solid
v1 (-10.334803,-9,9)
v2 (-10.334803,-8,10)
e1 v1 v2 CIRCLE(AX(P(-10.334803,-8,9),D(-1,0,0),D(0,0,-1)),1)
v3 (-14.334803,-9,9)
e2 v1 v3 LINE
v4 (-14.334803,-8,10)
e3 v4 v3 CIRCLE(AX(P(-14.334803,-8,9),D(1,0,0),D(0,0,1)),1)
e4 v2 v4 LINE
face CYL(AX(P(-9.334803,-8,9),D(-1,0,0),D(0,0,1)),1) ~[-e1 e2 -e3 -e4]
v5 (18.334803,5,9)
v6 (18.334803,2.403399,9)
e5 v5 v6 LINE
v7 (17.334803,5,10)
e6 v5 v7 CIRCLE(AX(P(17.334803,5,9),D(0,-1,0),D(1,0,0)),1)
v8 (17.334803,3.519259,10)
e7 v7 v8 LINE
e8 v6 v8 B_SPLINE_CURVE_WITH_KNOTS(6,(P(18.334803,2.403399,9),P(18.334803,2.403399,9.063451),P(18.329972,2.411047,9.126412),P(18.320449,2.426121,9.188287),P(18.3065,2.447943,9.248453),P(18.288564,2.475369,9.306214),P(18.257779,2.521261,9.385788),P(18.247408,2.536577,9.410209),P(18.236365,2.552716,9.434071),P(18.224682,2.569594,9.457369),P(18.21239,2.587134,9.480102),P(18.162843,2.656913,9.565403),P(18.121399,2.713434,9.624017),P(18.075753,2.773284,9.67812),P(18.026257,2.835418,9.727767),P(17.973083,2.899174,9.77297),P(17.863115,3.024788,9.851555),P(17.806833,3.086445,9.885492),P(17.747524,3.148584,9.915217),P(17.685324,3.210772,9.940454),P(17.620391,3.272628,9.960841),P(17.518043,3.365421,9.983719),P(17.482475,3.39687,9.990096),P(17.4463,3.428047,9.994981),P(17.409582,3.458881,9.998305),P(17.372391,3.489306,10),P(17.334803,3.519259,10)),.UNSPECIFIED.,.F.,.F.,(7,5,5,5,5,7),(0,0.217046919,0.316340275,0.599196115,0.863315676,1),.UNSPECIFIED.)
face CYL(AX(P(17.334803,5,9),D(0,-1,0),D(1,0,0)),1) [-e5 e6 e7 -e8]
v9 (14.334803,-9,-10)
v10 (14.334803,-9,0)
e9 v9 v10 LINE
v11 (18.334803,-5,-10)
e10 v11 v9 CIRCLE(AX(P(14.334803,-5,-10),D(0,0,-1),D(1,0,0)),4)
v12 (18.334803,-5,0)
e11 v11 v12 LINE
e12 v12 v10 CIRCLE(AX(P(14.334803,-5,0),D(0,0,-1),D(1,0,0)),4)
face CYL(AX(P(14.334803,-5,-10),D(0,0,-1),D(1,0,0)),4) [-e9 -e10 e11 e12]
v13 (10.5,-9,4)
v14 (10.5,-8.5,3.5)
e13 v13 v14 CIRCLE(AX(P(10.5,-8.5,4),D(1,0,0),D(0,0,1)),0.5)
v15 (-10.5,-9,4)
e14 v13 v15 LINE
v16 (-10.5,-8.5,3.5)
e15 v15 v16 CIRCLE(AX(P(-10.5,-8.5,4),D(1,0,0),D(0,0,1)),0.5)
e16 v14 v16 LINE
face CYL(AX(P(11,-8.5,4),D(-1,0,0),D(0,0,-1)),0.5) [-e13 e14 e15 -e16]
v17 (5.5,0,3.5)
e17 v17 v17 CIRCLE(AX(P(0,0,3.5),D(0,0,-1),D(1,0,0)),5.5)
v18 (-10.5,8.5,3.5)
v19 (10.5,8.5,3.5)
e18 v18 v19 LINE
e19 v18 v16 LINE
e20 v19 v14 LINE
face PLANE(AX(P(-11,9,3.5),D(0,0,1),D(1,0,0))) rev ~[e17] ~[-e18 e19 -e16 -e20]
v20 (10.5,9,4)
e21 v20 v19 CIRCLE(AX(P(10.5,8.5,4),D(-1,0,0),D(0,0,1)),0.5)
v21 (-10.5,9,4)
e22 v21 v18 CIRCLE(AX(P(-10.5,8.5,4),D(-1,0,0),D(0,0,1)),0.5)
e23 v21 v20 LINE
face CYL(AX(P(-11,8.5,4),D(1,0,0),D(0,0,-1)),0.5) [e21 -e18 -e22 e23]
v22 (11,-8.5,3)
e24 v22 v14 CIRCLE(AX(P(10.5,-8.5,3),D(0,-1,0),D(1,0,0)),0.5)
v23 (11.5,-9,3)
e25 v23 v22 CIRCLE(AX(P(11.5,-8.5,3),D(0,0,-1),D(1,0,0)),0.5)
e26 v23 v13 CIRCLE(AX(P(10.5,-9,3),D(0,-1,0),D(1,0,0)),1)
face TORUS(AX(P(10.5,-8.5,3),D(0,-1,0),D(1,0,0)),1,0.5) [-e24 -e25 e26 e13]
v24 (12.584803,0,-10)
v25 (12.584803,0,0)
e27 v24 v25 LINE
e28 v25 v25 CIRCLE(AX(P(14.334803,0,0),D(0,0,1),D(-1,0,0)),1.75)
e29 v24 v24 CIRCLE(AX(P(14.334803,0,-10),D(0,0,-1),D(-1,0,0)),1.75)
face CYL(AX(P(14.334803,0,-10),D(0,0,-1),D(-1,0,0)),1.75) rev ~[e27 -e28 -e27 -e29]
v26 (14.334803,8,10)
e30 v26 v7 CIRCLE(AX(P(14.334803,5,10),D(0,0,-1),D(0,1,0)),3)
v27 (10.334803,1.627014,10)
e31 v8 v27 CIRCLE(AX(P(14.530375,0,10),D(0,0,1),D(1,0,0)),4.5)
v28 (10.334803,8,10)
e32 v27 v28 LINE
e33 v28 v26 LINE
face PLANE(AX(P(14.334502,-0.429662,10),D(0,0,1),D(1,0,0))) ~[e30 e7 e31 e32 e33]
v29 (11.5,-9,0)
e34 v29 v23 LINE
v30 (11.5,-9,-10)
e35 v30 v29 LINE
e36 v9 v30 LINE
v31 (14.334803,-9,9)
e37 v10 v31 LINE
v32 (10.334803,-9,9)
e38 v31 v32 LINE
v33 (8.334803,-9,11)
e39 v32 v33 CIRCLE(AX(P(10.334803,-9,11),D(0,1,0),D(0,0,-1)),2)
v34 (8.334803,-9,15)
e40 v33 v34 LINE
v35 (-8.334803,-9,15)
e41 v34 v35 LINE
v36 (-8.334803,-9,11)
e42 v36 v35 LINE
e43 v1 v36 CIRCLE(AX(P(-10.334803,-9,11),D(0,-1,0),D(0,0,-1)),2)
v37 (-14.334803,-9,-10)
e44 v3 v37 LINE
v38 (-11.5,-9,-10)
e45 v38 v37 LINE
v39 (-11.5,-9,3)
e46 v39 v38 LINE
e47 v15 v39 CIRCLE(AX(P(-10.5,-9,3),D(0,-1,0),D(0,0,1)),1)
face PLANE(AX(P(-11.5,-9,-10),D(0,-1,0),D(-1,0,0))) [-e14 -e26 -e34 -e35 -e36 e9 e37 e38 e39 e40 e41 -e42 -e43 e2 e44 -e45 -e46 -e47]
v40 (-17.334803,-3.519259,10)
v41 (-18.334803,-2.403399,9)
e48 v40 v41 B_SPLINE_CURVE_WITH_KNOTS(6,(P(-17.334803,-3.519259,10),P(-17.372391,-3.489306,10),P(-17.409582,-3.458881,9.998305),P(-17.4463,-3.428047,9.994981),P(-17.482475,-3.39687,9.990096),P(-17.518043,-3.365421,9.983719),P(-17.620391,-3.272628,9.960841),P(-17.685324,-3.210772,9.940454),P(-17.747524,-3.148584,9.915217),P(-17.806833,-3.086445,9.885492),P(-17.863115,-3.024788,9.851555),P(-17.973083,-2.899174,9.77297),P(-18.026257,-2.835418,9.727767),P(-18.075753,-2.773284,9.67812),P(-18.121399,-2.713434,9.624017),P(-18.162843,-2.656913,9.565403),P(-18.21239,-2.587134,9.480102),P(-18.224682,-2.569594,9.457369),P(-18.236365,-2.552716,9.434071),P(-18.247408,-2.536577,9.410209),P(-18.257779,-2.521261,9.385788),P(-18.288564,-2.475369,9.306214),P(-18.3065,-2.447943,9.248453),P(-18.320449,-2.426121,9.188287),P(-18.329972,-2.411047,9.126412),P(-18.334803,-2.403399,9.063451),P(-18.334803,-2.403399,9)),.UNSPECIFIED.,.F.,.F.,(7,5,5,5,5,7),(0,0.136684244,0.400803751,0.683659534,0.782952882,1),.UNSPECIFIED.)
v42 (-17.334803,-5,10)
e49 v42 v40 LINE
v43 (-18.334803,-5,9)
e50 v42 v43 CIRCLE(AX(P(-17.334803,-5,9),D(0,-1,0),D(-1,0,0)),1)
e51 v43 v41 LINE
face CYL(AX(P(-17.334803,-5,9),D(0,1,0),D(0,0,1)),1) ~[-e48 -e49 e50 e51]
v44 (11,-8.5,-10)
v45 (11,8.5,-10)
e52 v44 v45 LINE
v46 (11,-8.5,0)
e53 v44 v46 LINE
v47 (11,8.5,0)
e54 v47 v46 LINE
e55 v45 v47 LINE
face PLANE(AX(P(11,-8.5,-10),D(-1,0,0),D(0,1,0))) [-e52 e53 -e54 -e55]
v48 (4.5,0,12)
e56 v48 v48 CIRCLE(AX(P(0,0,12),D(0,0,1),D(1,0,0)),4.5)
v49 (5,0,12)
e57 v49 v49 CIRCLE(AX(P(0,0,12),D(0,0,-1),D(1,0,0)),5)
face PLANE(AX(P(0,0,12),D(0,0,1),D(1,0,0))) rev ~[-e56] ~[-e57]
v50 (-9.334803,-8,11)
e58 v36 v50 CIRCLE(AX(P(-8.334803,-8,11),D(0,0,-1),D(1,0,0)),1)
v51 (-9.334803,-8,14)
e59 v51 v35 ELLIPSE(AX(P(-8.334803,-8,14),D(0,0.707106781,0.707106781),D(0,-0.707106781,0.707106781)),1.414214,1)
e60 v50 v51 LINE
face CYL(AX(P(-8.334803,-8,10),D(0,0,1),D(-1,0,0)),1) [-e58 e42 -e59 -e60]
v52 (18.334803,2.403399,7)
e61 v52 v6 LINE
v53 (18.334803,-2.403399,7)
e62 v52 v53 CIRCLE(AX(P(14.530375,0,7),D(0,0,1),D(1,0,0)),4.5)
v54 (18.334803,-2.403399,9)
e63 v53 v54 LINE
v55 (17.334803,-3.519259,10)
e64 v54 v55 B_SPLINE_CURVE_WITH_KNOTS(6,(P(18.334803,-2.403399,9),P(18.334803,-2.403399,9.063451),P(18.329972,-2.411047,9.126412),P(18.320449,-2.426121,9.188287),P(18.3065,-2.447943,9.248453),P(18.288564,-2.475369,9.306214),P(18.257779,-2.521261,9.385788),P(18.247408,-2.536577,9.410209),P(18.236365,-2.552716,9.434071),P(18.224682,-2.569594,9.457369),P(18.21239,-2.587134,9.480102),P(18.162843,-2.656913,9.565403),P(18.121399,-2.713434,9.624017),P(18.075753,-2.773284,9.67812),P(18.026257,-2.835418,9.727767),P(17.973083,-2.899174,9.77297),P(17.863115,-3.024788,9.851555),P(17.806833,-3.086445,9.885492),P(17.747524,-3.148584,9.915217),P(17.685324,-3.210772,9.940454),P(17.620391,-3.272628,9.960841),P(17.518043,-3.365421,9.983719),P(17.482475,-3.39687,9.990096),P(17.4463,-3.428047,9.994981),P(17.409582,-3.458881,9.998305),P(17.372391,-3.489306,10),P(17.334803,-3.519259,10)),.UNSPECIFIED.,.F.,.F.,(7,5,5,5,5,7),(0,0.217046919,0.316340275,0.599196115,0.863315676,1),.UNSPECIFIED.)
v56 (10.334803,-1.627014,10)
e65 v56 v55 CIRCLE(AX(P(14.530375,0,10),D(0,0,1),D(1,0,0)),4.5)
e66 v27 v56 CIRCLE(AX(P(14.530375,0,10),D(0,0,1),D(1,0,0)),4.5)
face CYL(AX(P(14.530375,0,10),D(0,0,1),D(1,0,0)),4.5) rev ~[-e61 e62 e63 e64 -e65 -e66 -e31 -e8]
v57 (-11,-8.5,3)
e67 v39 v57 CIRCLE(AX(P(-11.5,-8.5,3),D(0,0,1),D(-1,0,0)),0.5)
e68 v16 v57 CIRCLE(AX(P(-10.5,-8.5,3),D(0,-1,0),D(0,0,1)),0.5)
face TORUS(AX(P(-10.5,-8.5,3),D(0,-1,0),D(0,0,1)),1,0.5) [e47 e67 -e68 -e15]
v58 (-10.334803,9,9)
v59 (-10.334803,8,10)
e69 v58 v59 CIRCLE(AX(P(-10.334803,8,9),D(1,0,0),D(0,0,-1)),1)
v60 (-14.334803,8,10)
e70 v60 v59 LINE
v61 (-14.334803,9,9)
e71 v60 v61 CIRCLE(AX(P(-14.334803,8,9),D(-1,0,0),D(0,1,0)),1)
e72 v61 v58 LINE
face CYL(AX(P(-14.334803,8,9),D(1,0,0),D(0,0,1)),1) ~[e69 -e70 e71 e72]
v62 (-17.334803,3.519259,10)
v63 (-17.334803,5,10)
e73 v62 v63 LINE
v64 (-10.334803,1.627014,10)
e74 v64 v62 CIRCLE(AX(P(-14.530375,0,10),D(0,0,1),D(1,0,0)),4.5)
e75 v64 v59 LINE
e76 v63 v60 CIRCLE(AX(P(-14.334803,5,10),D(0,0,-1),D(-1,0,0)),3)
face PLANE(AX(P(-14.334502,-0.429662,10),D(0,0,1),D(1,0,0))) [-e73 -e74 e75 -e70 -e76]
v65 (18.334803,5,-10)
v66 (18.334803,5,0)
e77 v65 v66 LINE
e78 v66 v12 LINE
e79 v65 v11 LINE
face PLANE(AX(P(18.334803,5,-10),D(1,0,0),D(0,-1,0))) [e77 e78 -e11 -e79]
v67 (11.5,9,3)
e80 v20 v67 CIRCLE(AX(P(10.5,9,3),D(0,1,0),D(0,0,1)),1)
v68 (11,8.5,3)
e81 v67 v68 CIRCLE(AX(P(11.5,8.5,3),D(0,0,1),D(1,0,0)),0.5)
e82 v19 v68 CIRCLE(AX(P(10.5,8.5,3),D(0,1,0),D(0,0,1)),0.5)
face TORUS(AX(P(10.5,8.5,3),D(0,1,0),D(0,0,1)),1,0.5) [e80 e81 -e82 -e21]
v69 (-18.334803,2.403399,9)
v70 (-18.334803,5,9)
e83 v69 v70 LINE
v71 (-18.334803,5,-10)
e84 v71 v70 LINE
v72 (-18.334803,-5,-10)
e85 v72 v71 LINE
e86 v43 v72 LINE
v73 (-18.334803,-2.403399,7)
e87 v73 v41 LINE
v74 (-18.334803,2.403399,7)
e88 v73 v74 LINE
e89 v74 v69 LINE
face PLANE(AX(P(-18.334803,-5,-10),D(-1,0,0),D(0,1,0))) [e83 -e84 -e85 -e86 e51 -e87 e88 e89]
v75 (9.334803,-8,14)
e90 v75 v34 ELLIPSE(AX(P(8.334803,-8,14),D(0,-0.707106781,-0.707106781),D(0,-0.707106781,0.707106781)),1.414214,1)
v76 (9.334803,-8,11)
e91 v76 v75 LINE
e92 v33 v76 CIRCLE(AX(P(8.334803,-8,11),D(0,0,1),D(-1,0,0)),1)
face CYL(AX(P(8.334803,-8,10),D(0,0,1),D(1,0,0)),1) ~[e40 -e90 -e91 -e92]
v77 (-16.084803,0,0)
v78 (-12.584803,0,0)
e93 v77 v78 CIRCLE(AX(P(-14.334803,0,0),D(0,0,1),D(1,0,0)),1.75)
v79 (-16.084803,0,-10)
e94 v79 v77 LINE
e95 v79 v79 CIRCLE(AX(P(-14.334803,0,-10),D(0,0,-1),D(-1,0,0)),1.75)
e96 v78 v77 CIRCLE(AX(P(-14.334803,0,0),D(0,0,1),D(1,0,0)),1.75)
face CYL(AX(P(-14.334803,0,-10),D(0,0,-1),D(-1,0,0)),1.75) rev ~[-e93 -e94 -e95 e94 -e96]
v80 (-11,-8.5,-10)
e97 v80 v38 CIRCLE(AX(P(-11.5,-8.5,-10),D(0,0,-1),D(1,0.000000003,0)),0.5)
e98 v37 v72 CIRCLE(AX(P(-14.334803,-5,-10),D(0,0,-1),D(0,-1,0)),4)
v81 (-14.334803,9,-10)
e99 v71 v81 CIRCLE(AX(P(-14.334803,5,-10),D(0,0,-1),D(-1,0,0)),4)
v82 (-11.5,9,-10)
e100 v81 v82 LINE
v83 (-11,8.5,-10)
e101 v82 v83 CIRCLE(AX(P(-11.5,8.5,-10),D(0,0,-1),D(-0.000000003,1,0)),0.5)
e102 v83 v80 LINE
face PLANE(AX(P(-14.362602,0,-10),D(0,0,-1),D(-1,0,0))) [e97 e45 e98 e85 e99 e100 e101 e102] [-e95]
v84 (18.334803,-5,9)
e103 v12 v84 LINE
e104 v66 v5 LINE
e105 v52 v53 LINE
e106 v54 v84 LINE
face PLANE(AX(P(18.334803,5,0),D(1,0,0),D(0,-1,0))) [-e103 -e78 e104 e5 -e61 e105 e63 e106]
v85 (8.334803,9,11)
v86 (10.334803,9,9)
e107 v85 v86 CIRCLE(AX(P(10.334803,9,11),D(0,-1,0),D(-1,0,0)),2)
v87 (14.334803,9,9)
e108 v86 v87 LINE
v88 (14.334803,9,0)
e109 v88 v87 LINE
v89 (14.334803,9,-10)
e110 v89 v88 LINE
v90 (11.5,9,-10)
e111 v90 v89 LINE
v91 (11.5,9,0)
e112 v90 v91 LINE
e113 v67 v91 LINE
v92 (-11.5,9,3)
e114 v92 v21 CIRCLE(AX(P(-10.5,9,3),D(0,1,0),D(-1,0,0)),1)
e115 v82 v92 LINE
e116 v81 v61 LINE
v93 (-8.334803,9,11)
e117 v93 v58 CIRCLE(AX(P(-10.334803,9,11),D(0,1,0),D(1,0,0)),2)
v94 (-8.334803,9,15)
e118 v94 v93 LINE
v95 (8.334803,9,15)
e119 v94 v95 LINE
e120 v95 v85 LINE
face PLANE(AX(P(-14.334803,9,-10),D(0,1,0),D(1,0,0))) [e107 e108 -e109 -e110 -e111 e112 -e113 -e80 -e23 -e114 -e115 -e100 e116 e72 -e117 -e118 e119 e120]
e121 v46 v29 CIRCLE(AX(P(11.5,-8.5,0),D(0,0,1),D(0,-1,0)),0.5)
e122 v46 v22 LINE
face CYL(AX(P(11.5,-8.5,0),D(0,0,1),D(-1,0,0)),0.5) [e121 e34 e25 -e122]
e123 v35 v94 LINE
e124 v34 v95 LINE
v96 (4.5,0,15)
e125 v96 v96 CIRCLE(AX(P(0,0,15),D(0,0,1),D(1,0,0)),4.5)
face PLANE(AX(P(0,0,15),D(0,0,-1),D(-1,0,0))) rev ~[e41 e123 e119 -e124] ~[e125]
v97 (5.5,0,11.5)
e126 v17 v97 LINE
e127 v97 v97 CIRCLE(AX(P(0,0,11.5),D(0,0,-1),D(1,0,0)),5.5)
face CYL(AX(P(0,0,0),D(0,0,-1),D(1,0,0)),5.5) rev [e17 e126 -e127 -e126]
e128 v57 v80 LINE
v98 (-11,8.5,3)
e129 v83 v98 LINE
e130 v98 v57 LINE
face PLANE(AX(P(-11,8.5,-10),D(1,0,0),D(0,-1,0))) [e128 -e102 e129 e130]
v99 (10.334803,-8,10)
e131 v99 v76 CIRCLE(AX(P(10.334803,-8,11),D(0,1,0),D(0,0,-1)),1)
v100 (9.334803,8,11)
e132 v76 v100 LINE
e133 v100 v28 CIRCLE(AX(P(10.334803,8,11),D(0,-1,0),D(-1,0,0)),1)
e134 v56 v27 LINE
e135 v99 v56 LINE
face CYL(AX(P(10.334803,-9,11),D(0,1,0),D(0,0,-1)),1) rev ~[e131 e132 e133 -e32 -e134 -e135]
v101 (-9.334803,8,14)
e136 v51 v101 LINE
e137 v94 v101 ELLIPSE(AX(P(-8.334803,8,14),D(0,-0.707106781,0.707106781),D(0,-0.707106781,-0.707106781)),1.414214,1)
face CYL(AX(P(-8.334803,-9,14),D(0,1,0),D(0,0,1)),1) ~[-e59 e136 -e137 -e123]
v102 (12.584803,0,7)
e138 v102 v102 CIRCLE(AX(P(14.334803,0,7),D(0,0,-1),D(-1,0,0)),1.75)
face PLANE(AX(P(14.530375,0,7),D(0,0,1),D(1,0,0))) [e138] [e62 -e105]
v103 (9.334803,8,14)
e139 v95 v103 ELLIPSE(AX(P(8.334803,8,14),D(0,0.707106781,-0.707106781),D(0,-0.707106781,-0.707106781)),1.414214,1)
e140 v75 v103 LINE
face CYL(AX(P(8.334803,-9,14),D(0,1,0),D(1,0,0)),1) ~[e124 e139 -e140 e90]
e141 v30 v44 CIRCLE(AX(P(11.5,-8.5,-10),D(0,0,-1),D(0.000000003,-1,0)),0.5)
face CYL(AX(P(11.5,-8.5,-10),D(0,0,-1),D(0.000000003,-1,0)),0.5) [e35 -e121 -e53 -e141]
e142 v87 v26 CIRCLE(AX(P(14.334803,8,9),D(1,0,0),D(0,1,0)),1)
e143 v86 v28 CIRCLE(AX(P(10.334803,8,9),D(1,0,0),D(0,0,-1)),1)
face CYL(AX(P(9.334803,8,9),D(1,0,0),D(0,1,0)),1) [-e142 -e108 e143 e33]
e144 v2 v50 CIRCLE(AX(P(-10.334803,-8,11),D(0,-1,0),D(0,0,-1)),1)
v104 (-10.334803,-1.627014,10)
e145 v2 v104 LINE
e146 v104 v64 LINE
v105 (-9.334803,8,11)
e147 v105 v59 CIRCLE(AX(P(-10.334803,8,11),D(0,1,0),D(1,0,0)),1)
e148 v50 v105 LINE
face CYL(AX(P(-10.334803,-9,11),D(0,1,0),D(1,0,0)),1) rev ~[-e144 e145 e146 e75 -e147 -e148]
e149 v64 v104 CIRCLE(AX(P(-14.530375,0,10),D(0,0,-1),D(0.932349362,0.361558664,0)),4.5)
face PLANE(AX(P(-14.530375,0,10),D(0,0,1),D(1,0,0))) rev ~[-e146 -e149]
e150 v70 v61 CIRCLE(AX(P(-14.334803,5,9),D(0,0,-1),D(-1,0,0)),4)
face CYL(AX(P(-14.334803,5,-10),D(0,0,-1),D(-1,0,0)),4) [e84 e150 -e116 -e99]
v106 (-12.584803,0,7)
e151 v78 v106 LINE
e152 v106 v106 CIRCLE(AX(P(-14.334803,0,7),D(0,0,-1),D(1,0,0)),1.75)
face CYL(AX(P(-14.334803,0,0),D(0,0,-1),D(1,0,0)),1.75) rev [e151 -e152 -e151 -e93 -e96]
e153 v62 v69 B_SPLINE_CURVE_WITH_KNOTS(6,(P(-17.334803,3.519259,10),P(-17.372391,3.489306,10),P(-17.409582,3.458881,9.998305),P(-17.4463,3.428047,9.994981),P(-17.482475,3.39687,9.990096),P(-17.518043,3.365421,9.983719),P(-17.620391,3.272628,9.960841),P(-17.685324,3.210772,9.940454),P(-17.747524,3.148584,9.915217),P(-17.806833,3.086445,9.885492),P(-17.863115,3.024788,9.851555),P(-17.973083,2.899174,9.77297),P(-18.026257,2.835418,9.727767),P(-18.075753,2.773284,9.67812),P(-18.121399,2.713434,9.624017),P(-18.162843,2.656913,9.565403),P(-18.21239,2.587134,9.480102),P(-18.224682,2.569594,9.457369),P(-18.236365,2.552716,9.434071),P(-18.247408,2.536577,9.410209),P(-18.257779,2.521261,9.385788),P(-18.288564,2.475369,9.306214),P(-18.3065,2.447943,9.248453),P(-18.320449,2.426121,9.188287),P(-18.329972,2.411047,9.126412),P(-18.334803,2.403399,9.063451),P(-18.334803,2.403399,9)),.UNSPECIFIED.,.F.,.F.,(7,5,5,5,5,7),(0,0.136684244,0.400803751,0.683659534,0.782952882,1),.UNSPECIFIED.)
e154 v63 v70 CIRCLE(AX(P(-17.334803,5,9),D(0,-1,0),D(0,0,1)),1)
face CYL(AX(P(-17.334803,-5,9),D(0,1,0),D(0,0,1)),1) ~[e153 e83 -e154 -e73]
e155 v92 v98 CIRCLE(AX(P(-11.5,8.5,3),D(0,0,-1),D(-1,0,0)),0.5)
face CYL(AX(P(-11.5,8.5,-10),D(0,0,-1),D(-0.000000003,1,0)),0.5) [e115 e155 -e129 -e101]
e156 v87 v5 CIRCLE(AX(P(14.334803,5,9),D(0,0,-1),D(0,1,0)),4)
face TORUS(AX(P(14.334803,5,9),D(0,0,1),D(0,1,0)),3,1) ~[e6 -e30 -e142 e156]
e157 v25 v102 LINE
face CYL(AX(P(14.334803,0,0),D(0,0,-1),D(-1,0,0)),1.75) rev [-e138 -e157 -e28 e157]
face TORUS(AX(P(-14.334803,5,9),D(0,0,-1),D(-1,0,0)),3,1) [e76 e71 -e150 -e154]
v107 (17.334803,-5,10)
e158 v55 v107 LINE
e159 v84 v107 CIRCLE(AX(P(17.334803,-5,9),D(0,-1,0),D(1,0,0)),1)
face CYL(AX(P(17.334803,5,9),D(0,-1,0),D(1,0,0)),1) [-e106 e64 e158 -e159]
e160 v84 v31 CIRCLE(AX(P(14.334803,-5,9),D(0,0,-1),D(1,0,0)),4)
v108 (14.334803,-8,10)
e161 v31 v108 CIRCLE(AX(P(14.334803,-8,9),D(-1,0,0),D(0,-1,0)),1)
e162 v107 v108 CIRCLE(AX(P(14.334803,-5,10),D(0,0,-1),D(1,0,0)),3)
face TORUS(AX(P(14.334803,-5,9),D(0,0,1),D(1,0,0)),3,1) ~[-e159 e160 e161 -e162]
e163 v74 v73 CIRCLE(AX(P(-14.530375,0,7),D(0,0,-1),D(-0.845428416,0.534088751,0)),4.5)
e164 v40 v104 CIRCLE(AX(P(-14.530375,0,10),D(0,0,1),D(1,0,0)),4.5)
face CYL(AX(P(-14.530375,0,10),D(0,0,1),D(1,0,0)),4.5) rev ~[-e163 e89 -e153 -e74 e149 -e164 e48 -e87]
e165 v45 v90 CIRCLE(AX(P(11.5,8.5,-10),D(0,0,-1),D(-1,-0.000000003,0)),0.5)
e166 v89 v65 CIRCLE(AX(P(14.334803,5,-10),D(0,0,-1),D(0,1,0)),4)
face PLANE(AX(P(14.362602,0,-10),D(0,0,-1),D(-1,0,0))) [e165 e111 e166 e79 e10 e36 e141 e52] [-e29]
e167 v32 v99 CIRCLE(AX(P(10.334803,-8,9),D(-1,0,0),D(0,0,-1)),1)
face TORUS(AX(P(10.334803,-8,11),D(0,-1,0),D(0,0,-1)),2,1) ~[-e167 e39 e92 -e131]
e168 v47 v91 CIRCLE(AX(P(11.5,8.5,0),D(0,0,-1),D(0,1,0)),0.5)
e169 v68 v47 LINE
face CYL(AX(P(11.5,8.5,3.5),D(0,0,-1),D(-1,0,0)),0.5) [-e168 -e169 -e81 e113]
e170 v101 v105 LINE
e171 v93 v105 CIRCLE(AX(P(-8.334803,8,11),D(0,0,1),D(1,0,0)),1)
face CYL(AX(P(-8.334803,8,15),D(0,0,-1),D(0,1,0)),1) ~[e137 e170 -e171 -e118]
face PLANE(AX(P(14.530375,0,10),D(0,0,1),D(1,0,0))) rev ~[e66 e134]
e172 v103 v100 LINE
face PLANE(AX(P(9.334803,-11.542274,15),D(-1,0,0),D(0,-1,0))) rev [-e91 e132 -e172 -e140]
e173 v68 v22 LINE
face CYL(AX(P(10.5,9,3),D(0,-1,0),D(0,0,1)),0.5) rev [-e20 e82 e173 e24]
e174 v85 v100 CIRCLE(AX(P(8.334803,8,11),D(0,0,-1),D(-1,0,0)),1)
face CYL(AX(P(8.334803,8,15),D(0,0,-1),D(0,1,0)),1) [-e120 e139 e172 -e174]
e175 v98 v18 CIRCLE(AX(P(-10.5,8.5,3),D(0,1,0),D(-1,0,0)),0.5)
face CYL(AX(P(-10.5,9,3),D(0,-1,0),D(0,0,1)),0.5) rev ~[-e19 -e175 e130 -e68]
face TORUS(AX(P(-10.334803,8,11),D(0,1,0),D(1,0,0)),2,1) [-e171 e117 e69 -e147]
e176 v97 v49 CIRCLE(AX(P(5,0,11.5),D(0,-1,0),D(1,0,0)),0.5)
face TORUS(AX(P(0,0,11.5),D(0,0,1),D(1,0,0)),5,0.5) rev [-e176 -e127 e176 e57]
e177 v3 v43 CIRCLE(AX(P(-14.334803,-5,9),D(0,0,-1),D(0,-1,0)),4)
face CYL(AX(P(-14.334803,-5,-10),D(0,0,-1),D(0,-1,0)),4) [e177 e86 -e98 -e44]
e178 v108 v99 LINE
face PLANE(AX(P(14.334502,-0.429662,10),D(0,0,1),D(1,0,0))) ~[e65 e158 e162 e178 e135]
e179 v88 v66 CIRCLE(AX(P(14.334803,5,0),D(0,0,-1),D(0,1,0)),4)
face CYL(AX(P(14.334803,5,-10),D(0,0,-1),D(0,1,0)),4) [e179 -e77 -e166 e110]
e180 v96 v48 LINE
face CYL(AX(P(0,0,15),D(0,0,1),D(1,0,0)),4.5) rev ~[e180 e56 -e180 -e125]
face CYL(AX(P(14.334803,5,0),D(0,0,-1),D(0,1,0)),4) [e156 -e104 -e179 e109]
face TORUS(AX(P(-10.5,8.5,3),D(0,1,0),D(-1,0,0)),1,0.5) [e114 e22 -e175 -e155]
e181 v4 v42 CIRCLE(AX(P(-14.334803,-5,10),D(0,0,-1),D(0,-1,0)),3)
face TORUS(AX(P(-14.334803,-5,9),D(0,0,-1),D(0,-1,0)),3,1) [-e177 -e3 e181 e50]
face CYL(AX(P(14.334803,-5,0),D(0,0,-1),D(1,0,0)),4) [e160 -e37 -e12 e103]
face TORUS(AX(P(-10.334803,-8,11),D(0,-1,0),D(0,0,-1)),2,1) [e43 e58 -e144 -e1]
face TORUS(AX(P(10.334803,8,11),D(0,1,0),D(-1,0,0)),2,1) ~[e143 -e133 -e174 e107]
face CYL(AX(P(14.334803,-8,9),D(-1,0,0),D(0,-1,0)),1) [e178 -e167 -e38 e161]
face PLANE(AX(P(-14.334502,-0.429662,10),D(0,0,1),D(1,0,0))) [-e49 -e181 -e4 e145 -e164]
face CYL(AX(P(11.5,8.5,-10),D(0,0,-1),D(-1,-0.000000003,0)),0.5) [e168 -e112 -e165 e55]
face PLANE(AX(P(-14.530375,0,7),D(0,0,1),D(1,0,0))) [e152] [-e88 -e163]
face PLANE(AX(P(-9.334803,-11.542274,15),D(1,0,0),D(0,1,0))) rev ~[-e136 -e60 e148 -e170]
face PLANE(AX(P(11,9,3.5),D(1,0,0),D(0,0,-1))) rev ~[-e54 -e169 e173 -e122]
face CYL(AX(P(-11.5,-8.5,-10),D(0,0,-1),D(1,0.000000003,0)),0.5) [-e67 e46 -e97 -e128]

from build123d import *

# Parameters (mm, degrees)
SKETCH1_R            = 5.5
SKETCH1_R_2          = 1.75
BOSS_EXTRUDE1_DEPTH  = 15
SKETCH3_W            = 9.999397818
SKETCH3_H            = 22.225224056
CUT_EXTRUDE1_DEPTH   = 5
FILLET1_R            = 1
FILLET1_OF_MIRROR1_R = 1
SKETCH4_R            = 7.5
BOSS_EXTRUDE2_DEPTH  = 3
SKETCH5_W            = 22
SKETCH5_H            = 7
CUT_EXTRUDE2_DEPTH   = 30.75172255
SKETCH6_R            = 4.5
CUT_EXTRUDE3_DEPTH   = 26.34097462
SKETCH7_R            = 4.5
CUT_EXTRUDE8_DEPTH   = 3
FILLET3_R            = 0.5
FILLET2_R            = 0.5
BOSS_EXTRUDE3_START  = 10
SKETCH8_R            = 1.75
BOSS_EXTRUDE3_DEPTH  = 10


with BuildPart() as part:
    # Sketch1 → Boss-Extrude1 (new body)
    with BuildSketch(Plane.XY):
        with BuildLine():
            Line((-14.334802826, 9), (14.334802826, 9))
            ThreePointArc((14.334802826, 9), (17.163229951, 7.828427125), (18.334802826, 5))
            Line((18.334802826, 5), (18.334802826, -5))
            ThreePointArc((18.334802826, -5), (17.163229951, -7.828427125), (14.334802826, -9))
            Line((14.334802826, -9), (-14.334802826, -9))
            ThreePointArc((-14.334802826, -9), (-17.163229951, -7.828427125), (-18.334802826, -5))
            Line((-18.334802826, -5), (-18.334802826, 5))
            ThreePointArc((-18.334802826, 5), (-17.163229951, 7.828427125), (-14.334802826, 9))
        make_face()
        Circle(SKETCH1_R, mode=Mode.SUBTRACT)
        with Locations((-14.334802826, 0)):
            Circle(SKETCH1_R_2, mode=Mode.SUBTRACT)
        with Locations(Location((14.334802826, 0, 0), (0, 0, 180))):
            Circle(SKETCH1_R_2, mode=Mode.SUBTRACT)
    extrude(amount=BOSS_EXTRUDE1_DEPTH)

    # Sketch3 → Cut-Extrude1 (cut)
    with BuildSketch(Plane.XY.offset(15)):
        with Locations((-14.334501735, -0.429661625)):
            Rectangle(SKETCH3_W, SKETCH3_H)
    cut_extrude1 = extrude(amount=-CUT_EXTRUDE1_DEPTH, mode=Mode.SUBTRACT)

    # Fillet1
    fillet1_edges = [part.edges().sort_by_distance(p)[0] for p in [
        (-9.334802826, -9, 12.5),
        (-9.334802826, 0, 10),
        (-9.334802826, 9, 12.5),
        (-17.163229951, 7.828427125, 10),
        (-11.834802826, 9, 10),
        (-11.834802826, -9, 10),
        (-17.163229951, -7.828427125, 10),
        (-18.334802826, 0, 10),
        (-9.334802826, 0, 15),
    ]]
    fillet(fillet1_edges, radius=FILLET1_R)

    # Mirror1: Cut-Extrude1 across plane
    add(cut_extrude1.mirror(Plane(origin=(0, 0, 0), x_dir=(0, 0, 1), z_dir=(1, 0, 0))), mode=Mode.SUBTRACT)

    # Fillet1 of Mirror1
    fillet1_of_mirror1_edges = [part.edges().sort_by_distance(p)[0] for p in [
        (9.334802826, -9, 12.5),
        (9.334802826, 0, 10),
        (9.334802826, 9, 12.5),
        (17.163229951, 7.828427125, 10),
        (11.834802826, 9, 10),
        (11.834802826, -9, 10),
        (17.163229951, -7.828427125, 10),
        (18.334802826, 0, 10),
        (9.334802826, 0, 15),
    ]]
    fillet(fillet1_of_mirror1_edges, radius=FILLET1_OF_MIRROR1_R)

    # Sketch4 → Boss-Extrude2 (add)
    with BuildSketch(Plane.XY.offset(15)):
        Circle(SKETCH4_R)
    extrude(amount=-BOSS_EXTRUDE2_DEPTH)

    # Sketch5 → Cut-Extrude2 (cut, through all)
    with BuildSketch(Plane(origin=(0, 9, 0), x_dir=(1, 0, 0), z_dir=(0, 1, 0))):
        Rectangle(SKETCH5_W, SKETCH5_H)
    extrude(amount=-CUT_EXTRUDE2_DEPTH, mode=Mode.SUBTRACT)

    # Sketch6 → Cut-Extrude3 (cut, through all)
    with BuildSketch(Plane.XY.offset(15)):
        Circle(SKETCH6_R)
    extrude(amount=-CUT_EXTRUDE3_DEPTH, mode=Mode.SUBTRACT)

    # Sketch7 → Cut-Extrude8 (cut)
    with BuildSketch(Plane.XY.offset(10)):
        with Locations((-14.530374954, 0)):
            Circle(SKETCH7_R)
        with Locations((14.530374954, 0)):
            Circle(SKETCH7_R)
    extrude(amount=-CUT_EXTRUDE8_DEPTH, mode=Mode.SUBTRACT)

    # Fillet3
    fillet3_edges = [part.edges().sort_by_distance(p)[0] for p in [
        (11, -9, 1.75),
        (0, -9, 3.5),
        (11, 0, 3.5),
        (-11, -9, 1.75),
        (-11, 0, 3.5),
        (-11, 9, 1.75),
        (0, 9, 3.5),
        (11, 9, 1.75),
    ]]
    fillet(fillet3_edges, radius=FILLET3_R)

    # Fillet2
    fillet2_edges = [part.edges().sort_by_distance(p)[0] for p in [
        (-5.5, 0, 12),
    ]]
    fillet(fillet2_edges, radius=FILLET2_R)

    # Sketch8 → Boss-Extrude3 (add)
    # profile 1 of 2: a face of its own
    with BuildSketch(Plane(origin=(0, 0, 0), x_dir=(-1, 0, 0), z_dir=(0, 0, -1)).offset(BOSS_EXTRUDE3_START)):
        with BuildLine():
            Line((11, 8.5), (11, -8.5))
            ThreePointArc((11, -8.5), (11.146446609, -8.853553391), (11.5, -9))
            Line((11.5, -9), (14.334802826, -9))
            ThreePointArc((14.334802826, -9), (17.163229951, -7.828427125), (18.334802826, -5))
            Line((18.334802826, -5), (18.334802826, 5))
            ThreePointArc((18.334802826, 5), (17.163229951, 7.828427125), (14.334802826, 9))
            Line((14.334802826, 9), (11.5, 9))
            ThreePointArc((11.5, 9), (11.146446609, 8.853553391), (11, 8.5))
        make_face()
        with Locations((14.334802826, 0)):
            Circle(SKETCH8_R, mode=Mode.SUBTRACT)
    # profile 2 of 2: a face of its own
    with BuildSketch(Plane(origin=(0, 0, 0), x_dir=(-1, 0, 0), z_dir=(0, 0, -1)).offset(BOSS_EXTRUDE3_START)):
        with BuildLine():
            Line((-14.334802826, -9), (-11.5, -9))
            ThreePointArc((-11.5, -9), (-11.146446609, -8.853553391), (-11, -8.5))
            Line((-11, -8.5), (-11, 8.5))
            ThreePointArc((-11, 8.5), (-11.146446609, 8.853553391), (-11.5, 9))
            Line((-11.5, 9), (-14.334802826, 9))
            ThreePointArc((-14.334802826, 9), (-17.163229951, 7.828427125), (-18.334802826, 5))
            Line((-18.334802826, 5), (-18.334802826, -5))
            ThreePointArc((-18.334802826, -5), (-17.163229951, -7.828427125), (-14.334802826, -9))
        make_face()
        with Locations((-14.334802826, 0)):
            Circle(SKETCH8_R, mode=Mode.SUBTRACT)
    extrude(amount=-BOSS_EXTRUDE3_DEPTH)


solid = part.part
